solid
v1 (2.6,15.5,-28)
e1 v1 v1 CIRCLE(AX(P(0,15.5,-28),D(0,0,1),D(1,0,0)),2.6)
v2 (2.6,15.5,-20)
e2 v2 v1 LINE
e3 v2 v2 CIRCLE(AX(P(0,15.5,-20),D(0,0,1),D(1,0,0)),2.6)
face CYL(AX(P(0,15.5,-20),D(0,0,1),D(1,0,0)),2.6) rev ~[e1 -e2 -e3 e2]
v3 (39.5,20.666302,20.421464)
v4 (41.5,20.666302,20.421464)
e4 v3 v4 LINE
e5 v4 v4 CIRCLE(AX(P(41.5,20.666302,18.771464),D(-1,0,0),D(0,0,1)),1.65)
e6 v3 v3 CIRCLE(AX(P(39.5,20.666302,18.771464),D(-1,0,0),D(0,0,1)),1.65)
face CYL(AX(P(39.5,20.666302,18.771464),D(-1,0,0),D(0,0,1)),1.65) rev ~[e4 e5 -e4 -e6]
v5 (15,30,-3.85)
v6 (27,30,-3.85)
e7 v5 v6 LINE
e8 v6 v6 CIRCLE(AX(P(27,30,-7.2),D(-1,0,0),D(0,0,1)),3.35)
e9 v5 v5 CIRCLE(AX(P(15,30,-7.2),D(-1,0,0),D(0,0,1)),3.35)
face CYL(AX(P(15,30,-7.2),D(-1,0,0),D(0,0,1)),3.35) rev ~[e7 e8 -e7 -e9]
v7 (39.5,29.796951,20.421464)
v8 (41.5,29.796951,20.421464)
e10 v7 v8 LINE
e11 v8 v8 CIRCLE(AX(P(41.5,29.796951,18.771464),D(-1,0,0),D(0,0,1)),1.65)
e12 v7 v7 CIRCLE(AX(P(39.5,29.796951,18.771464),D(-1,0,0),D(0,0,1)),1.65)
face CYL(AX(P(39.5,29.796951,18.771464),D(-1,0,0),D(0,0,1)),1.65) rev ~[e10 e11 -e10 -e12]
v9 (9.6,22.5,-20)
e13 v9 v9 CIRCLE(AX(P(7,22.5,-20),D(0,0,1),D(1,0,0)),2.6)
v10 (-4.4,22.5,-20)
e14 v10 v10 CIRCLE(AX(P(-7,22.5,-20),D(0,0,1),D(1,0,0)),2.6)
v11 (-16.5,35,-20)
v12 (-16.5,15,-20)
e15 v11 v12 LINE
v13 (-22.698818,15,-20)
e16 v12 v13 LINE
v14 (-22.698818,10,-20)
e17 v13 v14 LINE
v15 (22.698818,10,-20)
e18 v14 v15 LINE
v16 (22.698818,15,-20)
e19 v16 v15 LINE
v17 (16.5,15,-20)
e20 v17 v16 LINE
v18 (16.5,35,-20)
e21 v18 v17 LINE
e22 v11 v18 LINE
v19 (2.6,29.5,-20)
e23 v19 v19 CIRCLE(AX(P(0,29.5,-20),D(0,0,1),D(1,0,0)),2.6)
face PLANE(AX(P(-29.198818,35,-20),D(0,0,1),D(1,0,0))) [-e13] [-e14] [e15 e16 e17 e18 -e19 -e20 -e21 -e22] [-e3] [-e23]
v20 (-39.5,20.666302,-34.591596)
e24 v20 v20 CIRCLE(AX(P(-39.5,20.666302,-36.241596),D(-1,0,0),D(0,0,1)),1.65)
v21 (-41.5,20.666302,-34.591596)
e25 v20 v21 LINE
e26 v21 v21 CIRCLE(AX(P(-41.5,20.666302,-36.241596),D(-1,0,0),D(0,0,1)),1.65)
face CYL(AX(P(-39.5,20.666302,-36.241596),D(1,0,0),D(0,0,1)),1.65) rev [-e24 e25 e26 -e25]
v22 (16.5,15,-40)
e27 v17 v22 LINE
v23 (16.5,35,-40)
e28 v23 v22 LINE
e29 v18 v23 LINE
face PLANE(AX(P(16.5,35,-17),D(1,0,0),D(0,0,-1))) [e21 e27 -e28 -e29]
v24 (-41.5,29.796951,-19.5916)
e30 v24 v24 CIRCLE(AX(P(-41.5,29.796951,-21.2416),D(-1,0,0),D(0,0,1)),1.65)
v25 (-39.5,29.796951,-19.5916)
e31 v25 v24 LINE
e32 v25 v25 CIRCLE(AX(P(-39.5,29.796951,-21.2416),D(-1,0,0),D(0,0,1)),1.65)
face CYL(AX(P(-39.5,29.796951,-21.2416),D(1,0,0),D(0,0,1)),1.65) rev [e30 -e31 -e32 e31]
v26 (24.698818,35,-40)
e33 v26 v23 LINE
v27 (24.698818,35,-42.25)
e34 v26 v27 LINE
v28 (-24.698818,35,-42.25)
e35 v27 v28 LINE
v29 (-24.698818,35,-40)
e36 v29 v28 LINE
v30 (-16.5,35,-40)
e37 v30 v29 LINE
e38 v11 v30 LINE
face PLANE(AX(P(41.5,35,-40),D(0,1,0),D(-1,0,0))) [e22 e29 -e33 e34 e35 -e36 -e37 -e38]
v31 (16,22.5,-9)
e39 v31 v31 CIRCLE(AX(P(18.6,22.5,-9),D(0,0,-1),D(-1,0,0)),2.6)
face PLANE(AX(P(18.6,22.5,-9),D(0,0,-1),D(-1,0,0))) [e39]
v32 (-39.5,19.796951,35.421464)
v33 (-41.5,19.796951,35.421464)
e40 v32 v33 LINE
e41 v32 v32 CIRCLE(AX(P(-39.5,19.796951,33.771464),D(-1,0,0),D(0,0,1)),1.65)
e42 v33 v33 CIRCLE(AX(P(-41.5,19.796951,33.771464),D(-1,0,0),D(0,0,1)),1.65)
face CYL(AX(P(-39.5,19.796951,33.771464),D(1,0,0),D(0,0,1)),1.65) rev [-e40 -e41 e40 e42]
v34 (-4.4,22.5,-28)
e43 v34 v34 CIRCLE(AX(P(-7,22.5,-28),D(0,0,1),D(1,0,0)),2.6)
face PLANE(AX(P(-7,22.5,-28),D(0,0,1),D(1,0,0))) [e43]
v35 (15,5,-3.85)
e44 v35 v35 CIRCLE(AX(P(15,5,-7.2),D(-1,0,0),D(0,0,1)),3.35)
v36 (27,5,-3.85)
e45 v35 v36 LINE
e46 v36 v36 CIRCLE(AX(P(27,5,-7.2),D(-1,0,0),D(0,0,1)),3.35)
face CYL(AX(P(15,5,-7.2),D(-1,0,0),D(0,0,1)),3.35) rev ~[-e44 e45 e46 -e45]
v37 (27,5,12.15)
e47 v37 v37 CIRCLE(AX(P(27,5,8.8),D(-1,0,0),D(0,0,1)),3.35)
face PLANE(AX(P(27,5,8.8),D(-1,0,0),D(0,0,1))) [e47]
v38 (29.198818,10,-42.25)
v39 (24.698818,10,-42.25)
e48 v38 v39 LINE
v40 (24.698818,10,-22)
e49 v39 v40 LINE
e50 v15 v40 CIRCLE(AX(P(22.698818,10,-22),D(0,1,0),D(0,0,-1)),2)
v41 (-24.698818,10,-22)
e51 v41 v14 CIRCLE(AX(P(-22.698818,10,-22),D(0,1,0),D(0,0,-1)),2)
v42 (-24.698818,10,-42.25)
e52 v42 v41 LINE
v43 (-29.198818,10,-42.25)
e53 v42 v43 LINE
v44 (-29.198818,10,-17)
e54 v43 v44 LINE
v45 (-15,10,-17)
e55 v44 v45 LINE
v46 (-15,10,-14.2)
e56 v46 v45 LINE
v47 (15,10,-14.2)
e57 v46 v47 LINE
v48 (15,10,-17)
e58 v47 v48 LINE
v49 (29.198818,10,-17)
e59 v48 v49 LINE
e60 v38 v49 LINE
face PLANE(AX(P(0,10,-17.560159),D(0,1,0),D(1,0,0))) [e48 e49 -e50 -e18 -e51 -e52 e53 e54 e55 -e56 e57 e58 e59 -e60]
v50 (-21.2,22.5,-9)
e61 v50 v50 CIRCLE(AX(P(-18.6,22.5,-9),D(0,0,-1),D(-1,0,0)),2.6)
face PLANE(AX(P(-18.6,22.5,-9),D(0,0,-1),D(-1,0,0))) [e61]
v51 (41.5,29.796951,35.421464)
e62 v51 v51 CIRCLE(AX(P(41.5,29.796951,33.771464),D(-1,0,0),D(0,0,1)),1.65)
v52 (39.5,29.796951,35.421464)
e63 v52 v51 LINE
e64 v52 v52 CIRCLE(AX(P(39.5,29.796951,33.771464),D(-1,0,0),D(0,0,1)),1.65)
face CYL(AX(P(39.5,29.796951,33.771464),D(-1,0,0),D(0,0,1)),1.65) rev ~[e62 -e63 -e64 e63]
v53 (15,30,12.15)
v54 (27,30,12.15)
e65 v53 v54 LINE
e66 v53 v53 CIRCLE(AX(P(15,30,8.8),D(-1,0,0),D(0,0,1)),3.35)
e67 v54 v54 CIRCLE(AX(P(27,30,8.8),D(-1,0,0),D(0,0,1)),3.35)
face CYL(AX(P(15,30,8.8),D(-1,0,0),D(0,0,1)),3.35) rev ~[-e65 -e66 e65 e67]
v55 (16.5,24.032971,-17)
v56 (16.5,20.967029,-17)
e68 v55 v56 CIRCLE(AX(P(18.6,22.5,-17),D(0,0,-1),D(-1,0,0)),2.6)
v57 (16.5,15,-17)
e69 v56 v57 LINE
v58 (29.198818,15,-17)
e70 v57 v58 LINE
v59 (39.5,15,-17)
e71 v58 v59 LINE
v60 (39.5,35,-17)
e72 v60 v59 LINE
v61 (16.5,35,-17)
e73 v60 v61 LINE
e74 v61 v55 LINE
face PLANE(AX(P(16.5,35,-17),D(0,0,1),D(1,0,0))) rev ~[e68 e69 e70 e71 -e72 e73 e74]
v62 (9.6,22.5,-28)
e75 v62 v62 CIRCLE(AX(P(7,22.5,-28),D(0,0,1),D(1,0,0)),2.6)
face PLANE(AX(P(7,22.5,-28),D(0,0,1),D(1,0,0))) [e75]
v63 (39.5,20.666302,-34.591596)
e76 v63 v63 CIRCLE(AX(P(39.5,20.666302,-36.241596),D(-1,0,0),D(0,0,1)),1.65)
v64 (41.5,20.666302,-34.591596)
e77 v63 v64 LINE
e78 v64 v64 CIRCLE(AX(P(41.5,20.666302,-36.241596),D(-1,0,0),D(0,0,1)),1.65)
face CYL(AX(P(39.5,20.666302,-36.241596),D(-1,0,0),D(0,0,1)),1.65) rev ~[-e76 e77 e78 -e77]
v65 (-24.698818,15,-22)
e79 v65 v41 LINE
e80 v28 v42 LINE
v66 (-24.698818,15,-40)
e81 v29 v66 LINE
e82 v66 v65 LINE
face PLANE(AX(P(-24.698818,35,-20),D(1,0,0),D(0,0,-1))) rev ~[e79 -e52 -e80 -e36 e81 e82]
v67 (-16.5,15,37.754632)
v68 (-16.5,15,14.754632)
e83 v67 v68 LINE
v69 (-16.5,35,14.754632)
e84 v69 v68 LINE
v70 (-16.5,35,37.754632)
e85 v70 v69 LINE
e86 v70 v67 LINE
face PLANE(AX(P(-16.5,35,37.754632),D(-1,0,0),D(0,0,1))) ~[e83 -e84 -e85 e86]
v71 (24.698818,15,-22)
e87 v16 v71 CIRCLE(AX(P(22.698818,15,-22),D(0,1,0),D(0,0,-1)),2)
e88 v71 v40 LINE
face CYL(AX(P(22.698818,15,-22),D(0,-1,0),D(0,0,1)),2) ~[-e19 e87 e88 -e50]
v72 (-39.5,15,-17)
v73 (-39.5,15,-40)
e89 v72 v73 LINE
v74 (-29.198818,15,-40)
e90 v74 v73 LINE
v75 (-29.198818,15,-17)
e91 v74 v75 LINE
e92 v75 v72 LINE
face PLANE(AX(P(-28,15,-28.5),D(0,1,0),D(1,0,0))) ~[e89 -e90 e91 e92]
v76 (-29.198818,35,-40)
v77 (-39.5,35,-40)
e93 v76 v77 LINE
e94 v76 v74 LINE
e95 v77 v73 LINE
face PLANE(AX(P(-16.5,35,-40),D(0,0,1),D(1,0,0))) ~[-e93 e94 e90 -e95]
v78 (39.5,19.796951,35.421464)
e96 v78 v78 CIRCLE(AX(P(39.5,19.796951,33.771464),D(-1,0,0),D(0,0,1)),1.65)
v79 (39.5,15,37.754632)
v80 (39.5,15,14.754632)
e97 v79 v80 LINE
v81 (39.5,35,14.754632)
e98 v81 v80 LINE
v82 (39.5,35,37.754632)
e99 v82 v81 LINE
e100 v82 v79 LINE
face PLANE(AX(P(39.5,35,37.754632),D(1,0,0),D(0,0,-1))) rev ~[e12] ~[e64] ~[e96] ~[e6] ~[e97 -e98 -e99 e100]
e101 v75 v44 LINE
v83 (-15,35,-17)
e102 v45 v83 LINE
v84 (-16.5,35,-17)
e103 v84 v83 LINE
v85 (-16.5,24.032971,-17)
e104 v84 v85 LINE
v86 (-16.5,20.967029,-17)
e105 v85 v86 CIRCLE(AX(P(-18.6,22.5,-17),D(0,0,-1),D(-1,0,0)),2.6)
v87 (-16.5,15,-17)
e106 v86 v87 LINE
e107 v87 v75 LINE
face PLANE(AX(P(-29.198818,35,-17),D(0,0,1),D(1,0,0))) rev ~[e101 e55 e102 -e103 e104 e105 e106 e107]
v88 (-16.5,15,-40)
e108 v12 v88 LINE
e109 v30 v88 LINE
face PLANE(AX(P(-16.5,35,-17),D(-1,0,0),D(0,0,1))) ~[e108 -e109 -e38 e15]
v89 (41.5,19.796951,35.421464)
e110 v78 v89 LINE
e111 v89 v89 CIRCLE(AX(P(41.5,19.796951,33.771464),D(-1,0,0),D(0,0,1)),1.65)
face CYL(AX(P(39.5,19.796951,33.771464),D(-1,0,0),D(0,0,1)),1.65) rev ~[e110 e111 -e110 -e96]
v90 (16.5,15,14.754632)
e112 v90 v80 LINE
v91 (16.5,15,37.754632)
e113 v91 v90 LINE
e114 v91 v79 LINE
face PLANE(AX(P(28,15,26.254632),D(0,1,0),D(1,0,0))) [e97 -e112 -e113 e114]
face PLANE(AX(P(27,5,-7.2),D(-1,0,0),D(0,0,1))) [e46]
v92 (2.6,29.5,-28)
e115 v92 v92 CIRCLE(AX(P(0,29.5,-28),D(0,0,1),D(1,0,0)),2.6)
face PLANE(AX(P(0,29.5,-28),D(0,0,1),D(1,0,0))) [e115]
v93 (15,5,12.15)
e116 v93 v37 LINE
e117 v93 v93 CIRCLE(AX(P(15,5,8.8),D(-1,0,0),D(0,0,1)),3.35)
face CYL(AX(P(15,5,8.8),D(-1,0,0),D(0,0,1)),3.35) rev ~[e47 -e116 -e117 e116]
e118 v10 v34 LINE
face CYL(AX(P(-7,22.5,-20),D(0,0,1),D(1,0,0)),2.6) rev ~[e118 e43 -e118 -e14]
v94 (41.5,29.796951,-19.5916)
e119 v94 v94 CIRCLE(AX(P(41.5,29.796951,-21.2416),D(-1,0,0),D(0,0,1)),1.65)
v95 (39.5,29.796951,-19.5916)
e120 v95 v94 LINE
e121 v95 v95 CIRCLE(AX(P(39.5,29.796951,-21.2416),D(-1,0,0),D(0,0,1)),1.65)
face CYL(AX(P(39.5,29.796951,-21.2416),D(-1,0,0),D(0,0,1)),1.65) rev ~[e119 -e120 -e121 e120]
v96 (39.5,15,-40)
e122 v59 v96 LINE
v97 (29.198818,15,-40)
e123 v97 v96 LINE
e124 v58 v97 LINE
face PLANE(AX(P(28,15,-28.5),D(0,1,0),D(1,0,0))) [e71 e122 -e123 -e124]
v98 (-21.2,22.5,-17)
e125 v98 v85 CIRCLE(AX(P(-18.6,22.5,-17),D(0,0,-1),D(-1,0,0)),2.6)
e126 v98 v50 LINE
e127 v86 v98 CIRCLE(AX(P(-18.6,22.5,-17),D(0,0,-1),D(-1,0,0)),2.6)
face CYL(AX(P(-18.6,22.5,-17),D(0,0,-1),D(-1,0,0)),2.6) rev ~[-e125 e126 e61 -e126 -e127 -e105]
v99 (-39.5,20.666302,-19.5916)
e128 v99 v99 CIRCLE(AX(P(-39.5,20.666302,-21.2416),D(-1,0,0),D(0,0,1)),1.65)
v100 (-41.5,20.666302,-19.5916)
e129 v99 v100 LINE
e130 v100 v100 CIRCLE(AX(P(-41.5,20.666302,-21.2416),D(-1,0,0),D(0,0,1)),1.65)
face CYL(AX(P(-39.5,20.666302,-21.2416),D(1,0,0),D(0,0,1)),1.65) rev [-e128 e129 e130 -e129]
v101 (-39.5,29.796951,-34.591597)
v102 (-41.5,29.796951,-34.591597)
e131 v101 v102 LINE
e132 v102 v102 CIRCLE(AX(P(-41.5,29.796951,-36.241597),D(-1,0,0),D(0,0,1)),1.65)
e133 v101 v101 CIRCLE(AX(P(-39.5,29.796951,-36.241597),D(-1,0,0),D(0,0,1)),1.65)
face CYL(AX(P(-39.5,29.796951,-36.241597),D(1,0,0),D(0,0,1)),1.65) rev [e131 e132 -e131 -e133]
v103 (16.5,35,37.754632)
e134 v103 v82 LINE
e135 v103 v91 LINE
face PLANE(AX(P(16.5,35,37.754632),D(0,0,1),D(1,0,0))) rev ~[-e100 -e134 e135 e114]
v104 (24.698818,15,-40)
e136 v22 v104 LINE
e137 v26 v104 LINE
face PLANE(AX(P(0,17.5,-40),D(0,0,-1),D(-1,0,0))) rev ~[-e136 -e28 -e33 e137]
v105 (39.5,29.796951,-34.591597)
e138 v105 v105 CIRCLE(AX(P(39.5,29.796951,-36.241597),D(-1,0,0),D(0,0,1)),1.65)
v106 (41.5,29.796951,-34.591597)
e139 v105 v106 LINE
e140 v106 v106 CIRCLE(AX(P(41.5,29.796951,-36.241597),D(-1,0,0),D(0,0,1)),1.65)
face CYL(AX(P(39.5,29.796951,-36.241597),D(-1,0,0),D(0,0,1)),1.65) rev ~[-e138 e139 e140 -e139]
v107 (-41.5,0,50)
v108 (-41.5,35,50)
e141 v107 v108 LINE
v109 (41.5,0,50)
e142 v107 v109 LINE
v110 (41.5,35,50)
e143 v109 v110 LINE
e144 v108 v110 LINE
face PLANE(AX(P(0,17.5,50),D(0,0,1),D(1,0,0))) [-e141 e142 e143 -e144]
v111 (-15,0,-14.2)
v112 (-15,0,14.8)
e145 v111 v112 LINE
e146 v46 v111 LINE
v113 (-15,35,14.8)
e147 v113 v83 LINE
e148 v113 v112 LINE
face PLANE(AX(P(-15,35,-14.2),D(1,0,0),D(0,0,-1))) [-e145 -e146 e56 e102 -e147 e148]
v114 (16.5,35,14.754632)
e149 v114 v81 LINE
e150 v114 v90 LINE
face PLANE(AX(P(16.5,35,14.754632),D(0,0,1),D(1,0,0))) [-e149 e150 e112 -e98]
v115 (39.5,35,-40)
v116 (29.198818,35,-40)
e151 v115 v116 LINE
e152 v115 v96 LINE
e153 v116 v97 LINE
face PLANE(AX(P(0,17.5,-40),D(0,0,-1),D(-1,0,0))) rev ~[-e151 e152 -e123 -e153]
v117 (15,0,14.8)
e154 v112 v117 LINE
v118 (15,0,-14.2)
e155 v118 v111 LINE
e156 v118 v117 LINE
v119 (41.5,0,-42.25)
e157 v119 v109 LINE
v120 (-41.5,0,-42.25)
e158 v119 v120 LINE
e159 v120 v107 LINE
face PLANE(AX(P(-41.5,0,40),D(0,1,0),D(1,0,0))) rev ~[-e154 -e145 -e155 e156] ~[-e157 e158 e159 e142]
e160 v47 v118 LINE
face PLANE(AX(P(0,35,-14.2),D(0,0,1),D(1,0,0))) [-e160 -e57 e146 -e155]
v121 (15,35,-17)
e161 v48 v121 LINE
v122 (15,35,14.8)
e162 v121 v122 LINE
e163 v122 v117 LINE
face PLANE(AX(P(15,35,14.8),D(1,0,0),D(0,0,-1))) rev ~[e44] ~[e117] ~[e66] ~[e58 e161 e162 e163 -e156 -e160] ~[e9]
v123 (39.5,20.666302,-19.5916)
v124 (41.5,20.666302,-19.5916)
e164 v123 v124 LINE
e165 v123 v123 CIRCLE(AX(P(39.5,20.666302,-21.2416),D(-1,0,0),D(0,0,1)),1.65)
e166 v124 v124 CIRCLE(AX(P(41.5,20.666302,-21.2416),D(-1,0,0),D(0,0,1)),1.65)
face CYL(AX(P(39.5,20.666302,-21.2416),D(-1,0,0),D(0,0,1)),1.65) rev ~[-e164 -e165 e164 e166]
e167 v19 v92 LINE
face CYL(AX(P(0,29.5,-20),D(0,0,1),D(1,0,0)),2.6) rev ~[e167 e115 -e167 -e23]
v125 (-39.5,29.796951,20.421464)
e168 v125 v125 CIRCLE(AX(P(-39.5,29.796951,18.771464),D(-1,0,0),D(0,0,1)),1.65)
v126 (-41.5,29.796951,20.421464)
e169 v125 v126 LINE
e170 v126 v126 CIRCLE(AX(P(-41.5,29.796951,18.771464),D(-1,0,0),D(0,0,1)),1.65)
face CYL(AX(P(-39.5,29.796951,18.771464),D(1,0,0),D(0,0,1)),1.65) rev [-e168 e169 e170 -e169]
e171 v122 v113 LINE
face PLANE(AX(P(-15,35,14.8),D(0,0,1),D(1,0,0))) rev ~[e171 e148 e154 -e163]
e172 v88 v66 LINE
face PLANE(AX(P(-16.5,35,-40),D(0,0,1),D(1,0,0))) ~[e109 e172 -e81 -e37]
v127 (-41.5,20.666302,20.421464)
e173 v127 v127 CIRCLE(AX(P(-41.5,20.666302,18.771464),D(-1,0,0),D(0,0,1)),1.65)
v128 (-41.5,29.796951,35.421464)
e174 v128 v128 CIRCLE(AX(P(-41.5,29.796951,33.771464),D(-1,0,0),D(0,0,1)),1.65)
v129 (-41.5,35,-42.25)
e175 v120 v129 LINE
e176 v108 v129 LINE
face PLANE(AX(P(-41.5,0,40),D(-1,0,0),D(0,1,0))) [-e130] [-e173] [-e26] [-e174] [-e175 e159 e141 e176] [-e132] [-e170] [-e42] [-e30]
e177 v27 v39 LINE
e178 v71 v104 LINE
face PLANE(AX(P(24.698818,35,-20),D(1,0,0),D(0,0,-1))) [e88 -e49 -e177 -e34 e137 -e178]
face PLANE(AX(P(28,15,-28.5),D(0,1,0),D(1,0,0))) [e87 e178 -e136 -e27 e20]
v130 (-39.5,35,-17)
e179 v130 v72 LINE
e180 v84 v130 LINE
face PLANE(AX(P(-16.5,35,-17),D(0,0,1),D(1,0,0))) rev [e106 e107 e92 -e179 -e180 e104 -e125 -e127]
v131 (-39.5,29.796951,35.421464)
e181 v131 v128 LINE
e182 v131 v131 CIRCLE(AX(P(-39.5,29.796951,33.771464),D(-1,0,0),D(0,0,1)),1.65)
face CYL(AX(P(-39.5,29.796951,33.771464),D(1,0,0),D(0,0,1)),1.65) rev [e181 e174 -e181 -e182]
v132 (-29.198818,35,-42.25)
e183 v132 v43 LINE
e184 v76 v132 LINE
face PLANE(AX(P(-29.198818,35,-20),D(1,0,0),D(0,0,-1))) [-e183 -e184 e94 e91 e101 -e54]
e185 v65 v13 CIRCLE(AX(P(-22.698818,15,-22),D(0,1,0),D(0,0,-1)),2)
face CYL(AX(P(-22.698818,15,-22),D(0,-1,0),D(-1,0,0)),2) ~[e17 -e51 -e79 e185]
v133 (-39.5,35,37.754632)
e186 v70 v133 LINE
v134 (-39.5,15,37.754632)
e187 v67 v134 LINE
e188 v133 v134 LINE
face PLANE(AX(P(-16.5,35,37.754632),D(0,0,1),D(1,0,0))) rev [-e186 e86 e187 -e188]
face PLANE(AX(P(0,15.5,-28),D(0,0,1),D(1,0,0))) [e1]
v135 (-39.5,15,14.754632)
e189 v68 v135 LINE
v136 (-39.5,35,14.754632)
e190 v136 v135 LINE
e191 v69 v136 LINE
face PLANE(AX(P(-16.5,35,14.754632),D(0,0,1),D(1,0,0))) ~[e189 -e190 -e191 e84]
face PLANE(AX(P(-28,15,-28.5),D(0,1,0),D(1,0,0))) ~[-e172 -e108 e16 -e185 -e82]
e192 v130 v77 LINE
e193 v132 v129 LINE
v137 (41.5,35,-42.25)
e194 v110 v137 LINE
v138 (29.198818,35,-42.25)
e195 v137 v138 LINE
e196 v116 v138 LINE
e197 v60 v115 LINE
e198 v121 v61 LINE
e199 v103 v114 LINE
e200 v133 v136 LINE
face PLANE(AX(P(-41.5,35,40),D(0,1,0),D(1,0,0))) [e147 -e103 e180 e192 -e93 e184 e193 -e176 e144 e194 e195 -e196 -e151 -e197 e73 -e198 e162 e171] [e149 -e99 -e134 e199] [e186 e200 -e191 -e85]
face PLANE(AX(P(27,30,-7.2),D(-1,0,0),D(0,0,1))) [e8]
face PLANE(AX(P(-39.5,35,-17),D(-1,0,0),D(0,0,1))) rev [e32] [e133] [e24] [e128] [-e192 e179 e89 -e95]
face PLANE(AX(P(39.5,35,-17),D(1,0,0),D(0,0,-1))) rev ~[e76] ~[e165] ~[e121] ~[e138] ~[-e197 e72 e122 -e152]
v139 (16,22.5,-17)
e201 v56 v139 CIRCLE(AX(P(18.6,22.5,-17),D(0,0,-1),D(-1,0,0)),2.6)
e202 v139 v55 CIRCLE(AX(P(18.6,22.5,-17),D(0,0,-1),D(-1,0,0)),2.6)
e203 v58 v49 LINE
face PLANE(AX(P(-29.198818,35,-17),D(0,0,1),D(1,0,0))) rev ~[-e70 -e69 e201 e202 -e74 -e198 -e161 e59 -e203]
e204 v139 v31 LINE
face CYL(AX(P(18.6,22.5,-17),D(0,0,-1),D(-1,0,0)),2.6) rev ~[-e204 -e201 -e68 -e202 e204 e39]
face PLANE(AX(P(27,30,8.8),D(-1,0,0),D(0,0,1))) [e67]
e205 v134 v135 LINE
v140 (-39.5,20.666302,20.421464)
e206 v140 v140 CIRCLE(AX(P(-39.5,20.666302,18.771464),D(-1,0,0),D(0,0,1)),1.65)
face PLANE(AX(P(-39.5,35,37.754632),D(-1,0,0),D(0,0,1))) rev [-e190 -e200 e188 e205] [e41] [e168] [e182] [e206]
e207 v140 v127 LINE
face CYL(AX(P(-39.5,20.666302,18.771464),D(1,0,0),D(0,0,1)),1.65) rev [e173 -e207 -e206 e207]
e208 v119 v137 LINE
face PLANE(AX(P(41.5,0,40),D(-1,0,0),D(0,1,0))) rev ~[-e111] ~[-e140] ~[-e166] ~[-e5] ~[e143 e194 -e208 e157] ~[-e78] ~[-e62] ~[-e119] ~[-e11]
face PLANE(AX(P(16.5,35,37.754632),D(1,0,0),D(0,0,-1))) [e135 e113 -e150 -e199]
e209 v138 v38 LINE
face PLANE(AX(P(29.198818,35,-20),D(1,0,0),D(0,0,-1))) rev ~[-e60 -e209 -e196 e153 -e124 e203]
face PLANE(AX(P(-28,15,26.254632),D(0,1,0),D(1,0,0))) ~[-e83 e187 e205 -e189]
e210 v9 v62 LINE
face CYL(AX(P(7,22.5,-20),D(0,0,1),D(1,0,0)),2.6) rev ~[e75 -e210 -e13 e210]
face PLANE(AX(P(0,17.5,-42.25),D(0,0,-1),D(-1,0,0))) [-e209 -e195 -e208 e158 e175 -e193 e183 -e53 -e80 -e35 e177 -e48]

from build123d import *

# Parameters (mm, degrees)
SKETCH2_W           = 83
SKETCH2_H           = 80
BOSS_EXTRUDE1_DEPTH = 35
SKETCH3_W           = 23
SKETCH3_H           = 23
CUT_EXTRUDE1_DEPTH  = 20
CUT_EXTRUDE11_REACH = 98.881
SKETCH21_R          = 1.65
CUT_EXTRUDE3_REACH  = 69.433
SKETCH8_W           = 15
SKETCH8_H           = 29
SKETCH10_R          = 3.35
CUT_EXTRUDE4_DEPTH  = 12
SKETCH11_W          = 83
SKETCH11_H          = 35
BOSS_EXTRUDE2_DEPTH = 2.25
SKETCH24_W          = 58.39763532
SKETCH24_H          = 3
CUT_EXTRUDE13_DEPTH = 25
SKETCH25_W          = 30
SKETCH25_H          = 3.363441727
CUT_EXTRUDE14_DEPTH = 25
CUT_EXTRUDE15_REACH = 70.792
SKETCH28_W          = 4.5
SKETCH28_H          = 22.250000153
FILLET2_R           = 2
SKETCH29_R          = 2.6
CUT_EXTRUDE16_DEPTH = 8
SKETCH30_R          = 2.6
CUT_EXTRUDE17_DEPTH = 8
SKETCH32_W          = 83
SKETCH32_H          = 35
BOSS_EXTRUDE5_DEPTH = 10


with BuildPart() as part:
    # Sketch2 → Boss-Extrude1 (new body)
    with BuildSketch(Plane(origin=(0, 0, 0), x_dir=(1, 0, 0), z_dir=(0, 1, 0))):
        Rectangle(SKETCH2_W, SKETCH2_H)
    extrude(amount=BOSS_EXTRUDE1_DEPTH)

    # Sketch3 → Cut-Extrude1 (cut)
    with BuildSketch(Plane(origin=(0, 35, 0), x_dir=(1, 0, 0), z_dir=(0, 1, 0))):
        with Locations((28, -26.254632213)):
            Rectangle(SKETCH3_W, SKETCH3_H)
        with Locations((28, 28.5)):
            Rectangle(SKETCH3_W, SKETCH3_H)
    cut_extrude1 = extrude(amount=-CUT_EXTRUDE1_DEPTH, mode=Mode.SUBTRACT)

    # Sketch21 → Cut-Extrude11 (cut, up to next)
    with BuildSketch(Plane.ZY.offset(-39.5), mode=Mode.PRIVATE) as cut_extrude11_sk1:
        with Locations((-36.241596758, 29.796951458)):
            Circle(SKETCH21_R)
    cut_extrude11_tool1 = extrude(cut_extrude11_sk1.sketch, amount=-CUT_EXTRUDE11_REACH, mode=Mode.PRIVATE) & part.part
    # Sketch21 → Cut-Extrude11 (cut, up to next)
    with BuildSketch(Plane.ZY.offset(-39.5), mode=Mode.PRIVATE) as cut_extrude11_sk2:
        with Locations((-36.241596399, 20.666302449)):
            Circle(SKETCH21_R)
    cut_extrude11_tool2 = extrude(cut_extrude11_sk2.sketch, amount=-CUT_EXTRUDE11_REACH, mode=Mode.PRIVATE) & part.part
    # Sketch21 → Cut-Extrude11 (cut, up to next)
    with BuildSketch(Plane.ZY.offset(-39.5), mode=Mode.PRIVATE) as cut_extrude11_sk3:
        with Locations((-21.24159988, 29.796951458)):
            Circle(SKETCH21_R)
    cut_extrude11_tool3 = extrude(cut_extrude11_sk3.sketch, amount=-CUT_EXTRUDE11_REACH, mode=Mode.PRIVATE) & part.part
    # Sketch21 → Cut-Extrude11 (cut, up to next)
    with BuildSketch(Plane.ZY.offset(-39.5), mode=Mode.PRIVATE) as cut_extrude11_sk4:
        with Locations((-21.24159988, 20.666302449)):
            Circle(SKETCH21_R)
    cut_extrude11_tool4 = extrude(cut_extrude11_sk4.sketch, amount=-CUT_EXTRUDE11_REACH, mode=Mode.PRIVATE) & part.part
    # Sketch21 → Cut-Extrude11 (cut, up to next)
    with BuildSketch(Plane.ZY.offset(-39.5), mode=Mode.PRIVATE) as cut_extrude11_sk5:
        with Locations((18.771463682, 29.796951458)):
            Circle(SKETCH21_R)
    cut_extrude11_tool5 = extrude(cut_extrude11_sk5.sketch, amount=-CUT_EXTRUDE11_REACH, mode=Mode.PRIVATE) & part.part
    # Sketch21 → Cut-Extrude11 (cut, up to next)
    with BuildSketch(Plane.ZY.offset(-39.5), mode=Mode.PRIVATE) as cut_extrude11_sk6:
        with Locations((33.771463682, 29.796951458)):
            Circle(SKETCH21_R)
    cut_extrude11_tool6 = extrude(cut_extrude11_sk6.sketch, amount=-CUT_EXTRUDE11_REACH, mode=Mode.PRIVATE) & part.part
    # Sketch21 → Cut-Extrude11 (cut, up to next)
    with BuildSketch(Plane.ZY.offset(-39.5), mode=Mode.PRIVATE) as cut_extrude11_sk7:
        with Locations((33.771463682, 19.796951458)):
            Circle(SKETCH21_R)
    cut_extrude11_tool7 = extrude(cut_extrude11_sk7.sketch, amount=-CUT_EXTRUDE11_REACH, mode=Mode.PRIVATE) & part.part
    # Sketch21 → Cut-Extrude11 (cut, up to next)
    with BuildSketch(Plane.ZY.offset(-39.5), mode=Mode.PRIVATE) as cut_extrude11_sk8:
        with Locations((18.771463682, 20.666302449)):
            Circle(SKETCH21_R)
    cut_extrude11_tool8 = extrude(cut_extrude11_sk8.sketch, amount=-CUT_EXTRUDE11_REACH, mode=Mode.PRIVATE) & part.part
    cut_extrude11_1 = cut_extrude11_tool1.solids().sort_by_distance((39.5, 29.796951, -36.241597))[0]
    add(cut_extrude11_1, mode=Mode.SUBTRACT)
    cut_extrude11_2 = cut_extrude11_tool2.solids().sort_by_distance((39.5, 20.666302, -36.241596))[0]
    add(cut_extrude11_2, mode=Mode.SUBTRACT)
    cut_extrude11_3 = cut_extrude11_tool3.solids().sort_by_distance((39.5, 29.796951, -21.2416))[0]
    add(cut_extrude11_3, mode=Mode.SUBTRACT)
    cut_extrude11_4 = cut_extrude11_tool4.solids().sort_by_distance((39.5, 20.666302, -21.2416))[0]
    add(cut_extrude11_4, mode=Mode.SUBTRACT)
    cut_extrude11_5 = cut_extrude11_tool5.solids().sort_by_distance((39.5, 29.796951, 18.771464))[0]
    add(cut_extrude11_5, mode=Mode.SUBTRACT)
    cut_extrude11_6 = cut_extrude11_tool6.solids().sort_by_distance((39.5, 29.796951, 33.771464))[0]
    add(cut_extrude11_6, mode=Mode.SUBTRACT)
    cut_extrude11_7 = cut_extrude11_tool7.solids().sort_by_distance((39.5, 19.796951, 33.771464))[0]
    add(cut_extrude11_7, mode=Mode.SUBTRACT)
    cut_extrude11_8 = cut_extrude11_tool8.solids().sort_by_distance((39.5, 20.666302, 18.771464))[0]
    add(cut_extrude11_8, mode=Mode.SUBTRACT)
    cut_extrude11 = cut_extrude11_1 + cut_extrude11_2 + cut_extrude11_3 + cut_extrude11_4 + cut_extrude11_5 + cut_extrude11_6 + cut_extrude11_7 + cut_extrude11_8  # Cut-Extrude11 as one shape, for the pattern or mirror that repeats it

    # Sketch8 → Cut-Extrude3 (cut, up to next)
    with BuildSketch(Plane(origin=(0, 35, 0), x_dir=(1, 0, 0), z_dir=(0, 1, 0)), mode=Mode.PRIVATE) as cut_extrude3_sk1:
        with Locations((-7.5, -0.300000153)):
            Rectangle(SKETCH8_W, SKETCH8_H)
    cut_extrude3_tool1 = extrude(cut_extrude3_sk1.sketch, amount=-CUT_EXTRUDE3_REACH, mode=Mode.PRIVATE) & part.part
    # Sketch8 → Cut-Extrude3 (cut, up to next)
    with BuildSketch(Plane(origin=(0, 35, 0), x_dir=(1, 0, 0), z_dir=(0, 1, 0)), mode=Mode.PRIVATE) as cut_extrude3_sk2:
        with Locations((7.5, -0.300000153)):
            Rectangle(SKETCH8_W, SKETCH8_H)
    cut_extrude3_tool2 = extrude(cut_extrude3_sk2.sketch, amount=-CUT_EXTRUDE3_REACH, mode=Mode.PRIVATE) & part.part
    add(cut_extrude3_tool1.solids().sort_by_distance((-7.5, 35, 0.3))[0], mode=Mode.SUBTRACT)
    add(cut_extrude3_tool2.solids().sort_by_distance((7.5, 35, 0.3))[0], mode=Mode.SUBTRACT)

    # Sketch10 → Cut-Extrude4 (cut)
    with BuildSketch(Plane.ZY.offset(-15)):
        with Locations((8.800000153, 30)):
            Circle(SKETCH10_R)
        with Locations((8.800000153, 5)):
            Circle(SKETCH10_R)
        with Locations((-7.199999847, 5)):
            Circle(SKETCH10_R)
        with Locations((-7.199999847, 30)):
            Circle(SKETCH10_R)
    extrude(amount=-CUT_EXTRUDE4_DEPTH, mode=Mode.SUBTRACT)

    # Sketch11 → Boss-Extrude2 (add)
    with BuildSketch(Plane(origin=(0, 0, -40), x_dir=(-1, 0, 0), z_dir=(0, 0, -1))):
        with Locations((0, 17.5)):
            Rectangle(SKETCH11_W, SKETCH11_H)
    extrude(amount=BOSS_EXTRUDE2_DEPTH)

    # Mirror1: Cut-Extrude1, Cut-Extrude11 across plane
    add(cut_extrude1.mirror(Plane(origin=(0, 0, 0), x_dir=(0, 0, 1), z_dir=(1, 0, 0))), mode=Mode.SUBTRACT)
    add(cut_extrude11.mirror(Plane(origin=(0, 0, 0), x_dir=(0, 0, 1), z_dir=(1, 0, 0))), mode=Mode.SUBTRACT)

    # Sketch24 → Cut-Extrude13 (cut)
    with BuildSketch(Plane(origin=(0, 35, 0), x_dir=(1, 0, 0), z_dir=(0, 1, 0))):
        with Locations((0, 18.499999847)):
            Rectangle(SKETCH24_W, SKETCH24_H)
    extrude(amount=-CUT_EXTRUDE13_DEPTH, mode=Mode.SUBTRACT)

    # Sketch25 → Cut-Extrude14 (cut)
    with BuildSketch(Plane(origin=(0, 35, 0), x_dir=(1, 0, 0), z_dir=(0, 1, 0))):
        with Locations((0, 15.881720711)):
            Rectangle(SKETCH25_W, SKETCH25_H)
    extrude(amount=-CUT_EXTRUDE14_DEPTH, mode=Mode.SUBTRACT)

    # Cut-Extrude15: up to this face of the body (flat: up to its plane)
    cut_extrude15_end = Plane(part.part.faces().sort_by_distance((0, 10, -17.560159309))[0])
    # Sketch28 → Cut-Extrude15 (cut, up to the picked face)
    with BuildSketch(Plane(origin=(0, 35, 0), x_dir=(1, 0, 0), z_dir=(0, 1, 0)), mode=Mode.PRIVATE) as cut_extrude15_sk1:
        with Locations((-26.94881766, 31.124999923)):
            Rectangle(SKETCH28_W, SKETCH28_H)
    cut_extrude15_tool1 = split(extrude(cut_extrude15_sk1.sketch, amount=-CUT_EXTRUDE15_REACH, mode=Mode.PRIVATE), bisect_by=cut_extrude15_end, keep=Keep.BOTH, mode=Mode.PRIVATE)
    # Sketch28 → Cut-Extrude15 (cut, up to the picked face)
    with BuildSketch(Plane(origin=(0, 35, 0), x_dir=(1, 0, 0), z_dir=(0, 1, 0)), mode=Mode.PRIVATE) as cut_extrude15_sk2:
        with Locations((26.94881766, 31.124999923)):
            Rectangle(SKETCH28_W, SKETCH28_H)
    cut_extrude15_tool2 = split(extrude(cut_extrude15_sk2.sketch, amount=-CUT_EXTRUDE15_REACH, mode=Mode.PRIVATE), bisect_by=cut_extrude15_end, keep=Keep.BOTH, mode=Mode.PRIVATE)
    add(cut_extrude15_tool1.solids().sort_by(Axis((-26.948818, 35, -31.125), (0, -1, 0)))[0], mode=Mode.SUBTRACT)
    add(cut_extrude15_tool2.solids().sort_by(Axis((26.948818, 35, -31.125), (0, -1, 0)))[0], mode=Mode.SUBTRACT)

    # Fillet2
    fillet2_edges = [part.edges().sort_by_distance(p)[0] for p in [
        (-24.69881766, 12.5, -19.999999847),
        (24.69881766, 12.5, -19.999999847),
    ]]
    fillet(fillet2_edges, radius=FILLET2_R)

    # Sketch29 → Cut-Extrude16 (cut)
    with BuildSketch(Plane.XY.offset(-19.999999847)):
        with Locations((0, 29.5)):
            Circle(SKETCH29_R)
        with Locations((-7, 22.5)):
            Circle(SKETCH29_R)
        with Locations((7, 22.5)):
            Circle(SKETCH29_R)
        with Locations((0, 15.5)):
            Circle(SKETCH29_R)
    extrude(amount=-CUT_EXTRUDE16_DEPTH, mode=Mode.SUBTRACT)

    # Sketch30 → Cut-Extrude17 (cut)
    with BuildSketch(Plane(origin=(0, 0, -17), x_dir=(-1, 0, 0), z_dir=(0, 0, -1))):
        with Locations((-18.6, 22.5)):
            Circle(SKETCH30_R)
        with Locations((18.6, 22.5)):
            Circle(SKETCH30_R)
    extrude(amount=-CUT_EXTRUDE17_DEPTH, mode=Mode.SUBTRACT)

    # Sketch32 → Boss-Extrude5 (add)
    with BuildSketch(Plane.XY.offset(40)):
        with Locations((0, 17.5)):
            Rectangle(SKETCH32_W, SKETCH32_H)
    extrude(amount=BOSS_EXTRUDE5_DEPTH)


solid = part.part
